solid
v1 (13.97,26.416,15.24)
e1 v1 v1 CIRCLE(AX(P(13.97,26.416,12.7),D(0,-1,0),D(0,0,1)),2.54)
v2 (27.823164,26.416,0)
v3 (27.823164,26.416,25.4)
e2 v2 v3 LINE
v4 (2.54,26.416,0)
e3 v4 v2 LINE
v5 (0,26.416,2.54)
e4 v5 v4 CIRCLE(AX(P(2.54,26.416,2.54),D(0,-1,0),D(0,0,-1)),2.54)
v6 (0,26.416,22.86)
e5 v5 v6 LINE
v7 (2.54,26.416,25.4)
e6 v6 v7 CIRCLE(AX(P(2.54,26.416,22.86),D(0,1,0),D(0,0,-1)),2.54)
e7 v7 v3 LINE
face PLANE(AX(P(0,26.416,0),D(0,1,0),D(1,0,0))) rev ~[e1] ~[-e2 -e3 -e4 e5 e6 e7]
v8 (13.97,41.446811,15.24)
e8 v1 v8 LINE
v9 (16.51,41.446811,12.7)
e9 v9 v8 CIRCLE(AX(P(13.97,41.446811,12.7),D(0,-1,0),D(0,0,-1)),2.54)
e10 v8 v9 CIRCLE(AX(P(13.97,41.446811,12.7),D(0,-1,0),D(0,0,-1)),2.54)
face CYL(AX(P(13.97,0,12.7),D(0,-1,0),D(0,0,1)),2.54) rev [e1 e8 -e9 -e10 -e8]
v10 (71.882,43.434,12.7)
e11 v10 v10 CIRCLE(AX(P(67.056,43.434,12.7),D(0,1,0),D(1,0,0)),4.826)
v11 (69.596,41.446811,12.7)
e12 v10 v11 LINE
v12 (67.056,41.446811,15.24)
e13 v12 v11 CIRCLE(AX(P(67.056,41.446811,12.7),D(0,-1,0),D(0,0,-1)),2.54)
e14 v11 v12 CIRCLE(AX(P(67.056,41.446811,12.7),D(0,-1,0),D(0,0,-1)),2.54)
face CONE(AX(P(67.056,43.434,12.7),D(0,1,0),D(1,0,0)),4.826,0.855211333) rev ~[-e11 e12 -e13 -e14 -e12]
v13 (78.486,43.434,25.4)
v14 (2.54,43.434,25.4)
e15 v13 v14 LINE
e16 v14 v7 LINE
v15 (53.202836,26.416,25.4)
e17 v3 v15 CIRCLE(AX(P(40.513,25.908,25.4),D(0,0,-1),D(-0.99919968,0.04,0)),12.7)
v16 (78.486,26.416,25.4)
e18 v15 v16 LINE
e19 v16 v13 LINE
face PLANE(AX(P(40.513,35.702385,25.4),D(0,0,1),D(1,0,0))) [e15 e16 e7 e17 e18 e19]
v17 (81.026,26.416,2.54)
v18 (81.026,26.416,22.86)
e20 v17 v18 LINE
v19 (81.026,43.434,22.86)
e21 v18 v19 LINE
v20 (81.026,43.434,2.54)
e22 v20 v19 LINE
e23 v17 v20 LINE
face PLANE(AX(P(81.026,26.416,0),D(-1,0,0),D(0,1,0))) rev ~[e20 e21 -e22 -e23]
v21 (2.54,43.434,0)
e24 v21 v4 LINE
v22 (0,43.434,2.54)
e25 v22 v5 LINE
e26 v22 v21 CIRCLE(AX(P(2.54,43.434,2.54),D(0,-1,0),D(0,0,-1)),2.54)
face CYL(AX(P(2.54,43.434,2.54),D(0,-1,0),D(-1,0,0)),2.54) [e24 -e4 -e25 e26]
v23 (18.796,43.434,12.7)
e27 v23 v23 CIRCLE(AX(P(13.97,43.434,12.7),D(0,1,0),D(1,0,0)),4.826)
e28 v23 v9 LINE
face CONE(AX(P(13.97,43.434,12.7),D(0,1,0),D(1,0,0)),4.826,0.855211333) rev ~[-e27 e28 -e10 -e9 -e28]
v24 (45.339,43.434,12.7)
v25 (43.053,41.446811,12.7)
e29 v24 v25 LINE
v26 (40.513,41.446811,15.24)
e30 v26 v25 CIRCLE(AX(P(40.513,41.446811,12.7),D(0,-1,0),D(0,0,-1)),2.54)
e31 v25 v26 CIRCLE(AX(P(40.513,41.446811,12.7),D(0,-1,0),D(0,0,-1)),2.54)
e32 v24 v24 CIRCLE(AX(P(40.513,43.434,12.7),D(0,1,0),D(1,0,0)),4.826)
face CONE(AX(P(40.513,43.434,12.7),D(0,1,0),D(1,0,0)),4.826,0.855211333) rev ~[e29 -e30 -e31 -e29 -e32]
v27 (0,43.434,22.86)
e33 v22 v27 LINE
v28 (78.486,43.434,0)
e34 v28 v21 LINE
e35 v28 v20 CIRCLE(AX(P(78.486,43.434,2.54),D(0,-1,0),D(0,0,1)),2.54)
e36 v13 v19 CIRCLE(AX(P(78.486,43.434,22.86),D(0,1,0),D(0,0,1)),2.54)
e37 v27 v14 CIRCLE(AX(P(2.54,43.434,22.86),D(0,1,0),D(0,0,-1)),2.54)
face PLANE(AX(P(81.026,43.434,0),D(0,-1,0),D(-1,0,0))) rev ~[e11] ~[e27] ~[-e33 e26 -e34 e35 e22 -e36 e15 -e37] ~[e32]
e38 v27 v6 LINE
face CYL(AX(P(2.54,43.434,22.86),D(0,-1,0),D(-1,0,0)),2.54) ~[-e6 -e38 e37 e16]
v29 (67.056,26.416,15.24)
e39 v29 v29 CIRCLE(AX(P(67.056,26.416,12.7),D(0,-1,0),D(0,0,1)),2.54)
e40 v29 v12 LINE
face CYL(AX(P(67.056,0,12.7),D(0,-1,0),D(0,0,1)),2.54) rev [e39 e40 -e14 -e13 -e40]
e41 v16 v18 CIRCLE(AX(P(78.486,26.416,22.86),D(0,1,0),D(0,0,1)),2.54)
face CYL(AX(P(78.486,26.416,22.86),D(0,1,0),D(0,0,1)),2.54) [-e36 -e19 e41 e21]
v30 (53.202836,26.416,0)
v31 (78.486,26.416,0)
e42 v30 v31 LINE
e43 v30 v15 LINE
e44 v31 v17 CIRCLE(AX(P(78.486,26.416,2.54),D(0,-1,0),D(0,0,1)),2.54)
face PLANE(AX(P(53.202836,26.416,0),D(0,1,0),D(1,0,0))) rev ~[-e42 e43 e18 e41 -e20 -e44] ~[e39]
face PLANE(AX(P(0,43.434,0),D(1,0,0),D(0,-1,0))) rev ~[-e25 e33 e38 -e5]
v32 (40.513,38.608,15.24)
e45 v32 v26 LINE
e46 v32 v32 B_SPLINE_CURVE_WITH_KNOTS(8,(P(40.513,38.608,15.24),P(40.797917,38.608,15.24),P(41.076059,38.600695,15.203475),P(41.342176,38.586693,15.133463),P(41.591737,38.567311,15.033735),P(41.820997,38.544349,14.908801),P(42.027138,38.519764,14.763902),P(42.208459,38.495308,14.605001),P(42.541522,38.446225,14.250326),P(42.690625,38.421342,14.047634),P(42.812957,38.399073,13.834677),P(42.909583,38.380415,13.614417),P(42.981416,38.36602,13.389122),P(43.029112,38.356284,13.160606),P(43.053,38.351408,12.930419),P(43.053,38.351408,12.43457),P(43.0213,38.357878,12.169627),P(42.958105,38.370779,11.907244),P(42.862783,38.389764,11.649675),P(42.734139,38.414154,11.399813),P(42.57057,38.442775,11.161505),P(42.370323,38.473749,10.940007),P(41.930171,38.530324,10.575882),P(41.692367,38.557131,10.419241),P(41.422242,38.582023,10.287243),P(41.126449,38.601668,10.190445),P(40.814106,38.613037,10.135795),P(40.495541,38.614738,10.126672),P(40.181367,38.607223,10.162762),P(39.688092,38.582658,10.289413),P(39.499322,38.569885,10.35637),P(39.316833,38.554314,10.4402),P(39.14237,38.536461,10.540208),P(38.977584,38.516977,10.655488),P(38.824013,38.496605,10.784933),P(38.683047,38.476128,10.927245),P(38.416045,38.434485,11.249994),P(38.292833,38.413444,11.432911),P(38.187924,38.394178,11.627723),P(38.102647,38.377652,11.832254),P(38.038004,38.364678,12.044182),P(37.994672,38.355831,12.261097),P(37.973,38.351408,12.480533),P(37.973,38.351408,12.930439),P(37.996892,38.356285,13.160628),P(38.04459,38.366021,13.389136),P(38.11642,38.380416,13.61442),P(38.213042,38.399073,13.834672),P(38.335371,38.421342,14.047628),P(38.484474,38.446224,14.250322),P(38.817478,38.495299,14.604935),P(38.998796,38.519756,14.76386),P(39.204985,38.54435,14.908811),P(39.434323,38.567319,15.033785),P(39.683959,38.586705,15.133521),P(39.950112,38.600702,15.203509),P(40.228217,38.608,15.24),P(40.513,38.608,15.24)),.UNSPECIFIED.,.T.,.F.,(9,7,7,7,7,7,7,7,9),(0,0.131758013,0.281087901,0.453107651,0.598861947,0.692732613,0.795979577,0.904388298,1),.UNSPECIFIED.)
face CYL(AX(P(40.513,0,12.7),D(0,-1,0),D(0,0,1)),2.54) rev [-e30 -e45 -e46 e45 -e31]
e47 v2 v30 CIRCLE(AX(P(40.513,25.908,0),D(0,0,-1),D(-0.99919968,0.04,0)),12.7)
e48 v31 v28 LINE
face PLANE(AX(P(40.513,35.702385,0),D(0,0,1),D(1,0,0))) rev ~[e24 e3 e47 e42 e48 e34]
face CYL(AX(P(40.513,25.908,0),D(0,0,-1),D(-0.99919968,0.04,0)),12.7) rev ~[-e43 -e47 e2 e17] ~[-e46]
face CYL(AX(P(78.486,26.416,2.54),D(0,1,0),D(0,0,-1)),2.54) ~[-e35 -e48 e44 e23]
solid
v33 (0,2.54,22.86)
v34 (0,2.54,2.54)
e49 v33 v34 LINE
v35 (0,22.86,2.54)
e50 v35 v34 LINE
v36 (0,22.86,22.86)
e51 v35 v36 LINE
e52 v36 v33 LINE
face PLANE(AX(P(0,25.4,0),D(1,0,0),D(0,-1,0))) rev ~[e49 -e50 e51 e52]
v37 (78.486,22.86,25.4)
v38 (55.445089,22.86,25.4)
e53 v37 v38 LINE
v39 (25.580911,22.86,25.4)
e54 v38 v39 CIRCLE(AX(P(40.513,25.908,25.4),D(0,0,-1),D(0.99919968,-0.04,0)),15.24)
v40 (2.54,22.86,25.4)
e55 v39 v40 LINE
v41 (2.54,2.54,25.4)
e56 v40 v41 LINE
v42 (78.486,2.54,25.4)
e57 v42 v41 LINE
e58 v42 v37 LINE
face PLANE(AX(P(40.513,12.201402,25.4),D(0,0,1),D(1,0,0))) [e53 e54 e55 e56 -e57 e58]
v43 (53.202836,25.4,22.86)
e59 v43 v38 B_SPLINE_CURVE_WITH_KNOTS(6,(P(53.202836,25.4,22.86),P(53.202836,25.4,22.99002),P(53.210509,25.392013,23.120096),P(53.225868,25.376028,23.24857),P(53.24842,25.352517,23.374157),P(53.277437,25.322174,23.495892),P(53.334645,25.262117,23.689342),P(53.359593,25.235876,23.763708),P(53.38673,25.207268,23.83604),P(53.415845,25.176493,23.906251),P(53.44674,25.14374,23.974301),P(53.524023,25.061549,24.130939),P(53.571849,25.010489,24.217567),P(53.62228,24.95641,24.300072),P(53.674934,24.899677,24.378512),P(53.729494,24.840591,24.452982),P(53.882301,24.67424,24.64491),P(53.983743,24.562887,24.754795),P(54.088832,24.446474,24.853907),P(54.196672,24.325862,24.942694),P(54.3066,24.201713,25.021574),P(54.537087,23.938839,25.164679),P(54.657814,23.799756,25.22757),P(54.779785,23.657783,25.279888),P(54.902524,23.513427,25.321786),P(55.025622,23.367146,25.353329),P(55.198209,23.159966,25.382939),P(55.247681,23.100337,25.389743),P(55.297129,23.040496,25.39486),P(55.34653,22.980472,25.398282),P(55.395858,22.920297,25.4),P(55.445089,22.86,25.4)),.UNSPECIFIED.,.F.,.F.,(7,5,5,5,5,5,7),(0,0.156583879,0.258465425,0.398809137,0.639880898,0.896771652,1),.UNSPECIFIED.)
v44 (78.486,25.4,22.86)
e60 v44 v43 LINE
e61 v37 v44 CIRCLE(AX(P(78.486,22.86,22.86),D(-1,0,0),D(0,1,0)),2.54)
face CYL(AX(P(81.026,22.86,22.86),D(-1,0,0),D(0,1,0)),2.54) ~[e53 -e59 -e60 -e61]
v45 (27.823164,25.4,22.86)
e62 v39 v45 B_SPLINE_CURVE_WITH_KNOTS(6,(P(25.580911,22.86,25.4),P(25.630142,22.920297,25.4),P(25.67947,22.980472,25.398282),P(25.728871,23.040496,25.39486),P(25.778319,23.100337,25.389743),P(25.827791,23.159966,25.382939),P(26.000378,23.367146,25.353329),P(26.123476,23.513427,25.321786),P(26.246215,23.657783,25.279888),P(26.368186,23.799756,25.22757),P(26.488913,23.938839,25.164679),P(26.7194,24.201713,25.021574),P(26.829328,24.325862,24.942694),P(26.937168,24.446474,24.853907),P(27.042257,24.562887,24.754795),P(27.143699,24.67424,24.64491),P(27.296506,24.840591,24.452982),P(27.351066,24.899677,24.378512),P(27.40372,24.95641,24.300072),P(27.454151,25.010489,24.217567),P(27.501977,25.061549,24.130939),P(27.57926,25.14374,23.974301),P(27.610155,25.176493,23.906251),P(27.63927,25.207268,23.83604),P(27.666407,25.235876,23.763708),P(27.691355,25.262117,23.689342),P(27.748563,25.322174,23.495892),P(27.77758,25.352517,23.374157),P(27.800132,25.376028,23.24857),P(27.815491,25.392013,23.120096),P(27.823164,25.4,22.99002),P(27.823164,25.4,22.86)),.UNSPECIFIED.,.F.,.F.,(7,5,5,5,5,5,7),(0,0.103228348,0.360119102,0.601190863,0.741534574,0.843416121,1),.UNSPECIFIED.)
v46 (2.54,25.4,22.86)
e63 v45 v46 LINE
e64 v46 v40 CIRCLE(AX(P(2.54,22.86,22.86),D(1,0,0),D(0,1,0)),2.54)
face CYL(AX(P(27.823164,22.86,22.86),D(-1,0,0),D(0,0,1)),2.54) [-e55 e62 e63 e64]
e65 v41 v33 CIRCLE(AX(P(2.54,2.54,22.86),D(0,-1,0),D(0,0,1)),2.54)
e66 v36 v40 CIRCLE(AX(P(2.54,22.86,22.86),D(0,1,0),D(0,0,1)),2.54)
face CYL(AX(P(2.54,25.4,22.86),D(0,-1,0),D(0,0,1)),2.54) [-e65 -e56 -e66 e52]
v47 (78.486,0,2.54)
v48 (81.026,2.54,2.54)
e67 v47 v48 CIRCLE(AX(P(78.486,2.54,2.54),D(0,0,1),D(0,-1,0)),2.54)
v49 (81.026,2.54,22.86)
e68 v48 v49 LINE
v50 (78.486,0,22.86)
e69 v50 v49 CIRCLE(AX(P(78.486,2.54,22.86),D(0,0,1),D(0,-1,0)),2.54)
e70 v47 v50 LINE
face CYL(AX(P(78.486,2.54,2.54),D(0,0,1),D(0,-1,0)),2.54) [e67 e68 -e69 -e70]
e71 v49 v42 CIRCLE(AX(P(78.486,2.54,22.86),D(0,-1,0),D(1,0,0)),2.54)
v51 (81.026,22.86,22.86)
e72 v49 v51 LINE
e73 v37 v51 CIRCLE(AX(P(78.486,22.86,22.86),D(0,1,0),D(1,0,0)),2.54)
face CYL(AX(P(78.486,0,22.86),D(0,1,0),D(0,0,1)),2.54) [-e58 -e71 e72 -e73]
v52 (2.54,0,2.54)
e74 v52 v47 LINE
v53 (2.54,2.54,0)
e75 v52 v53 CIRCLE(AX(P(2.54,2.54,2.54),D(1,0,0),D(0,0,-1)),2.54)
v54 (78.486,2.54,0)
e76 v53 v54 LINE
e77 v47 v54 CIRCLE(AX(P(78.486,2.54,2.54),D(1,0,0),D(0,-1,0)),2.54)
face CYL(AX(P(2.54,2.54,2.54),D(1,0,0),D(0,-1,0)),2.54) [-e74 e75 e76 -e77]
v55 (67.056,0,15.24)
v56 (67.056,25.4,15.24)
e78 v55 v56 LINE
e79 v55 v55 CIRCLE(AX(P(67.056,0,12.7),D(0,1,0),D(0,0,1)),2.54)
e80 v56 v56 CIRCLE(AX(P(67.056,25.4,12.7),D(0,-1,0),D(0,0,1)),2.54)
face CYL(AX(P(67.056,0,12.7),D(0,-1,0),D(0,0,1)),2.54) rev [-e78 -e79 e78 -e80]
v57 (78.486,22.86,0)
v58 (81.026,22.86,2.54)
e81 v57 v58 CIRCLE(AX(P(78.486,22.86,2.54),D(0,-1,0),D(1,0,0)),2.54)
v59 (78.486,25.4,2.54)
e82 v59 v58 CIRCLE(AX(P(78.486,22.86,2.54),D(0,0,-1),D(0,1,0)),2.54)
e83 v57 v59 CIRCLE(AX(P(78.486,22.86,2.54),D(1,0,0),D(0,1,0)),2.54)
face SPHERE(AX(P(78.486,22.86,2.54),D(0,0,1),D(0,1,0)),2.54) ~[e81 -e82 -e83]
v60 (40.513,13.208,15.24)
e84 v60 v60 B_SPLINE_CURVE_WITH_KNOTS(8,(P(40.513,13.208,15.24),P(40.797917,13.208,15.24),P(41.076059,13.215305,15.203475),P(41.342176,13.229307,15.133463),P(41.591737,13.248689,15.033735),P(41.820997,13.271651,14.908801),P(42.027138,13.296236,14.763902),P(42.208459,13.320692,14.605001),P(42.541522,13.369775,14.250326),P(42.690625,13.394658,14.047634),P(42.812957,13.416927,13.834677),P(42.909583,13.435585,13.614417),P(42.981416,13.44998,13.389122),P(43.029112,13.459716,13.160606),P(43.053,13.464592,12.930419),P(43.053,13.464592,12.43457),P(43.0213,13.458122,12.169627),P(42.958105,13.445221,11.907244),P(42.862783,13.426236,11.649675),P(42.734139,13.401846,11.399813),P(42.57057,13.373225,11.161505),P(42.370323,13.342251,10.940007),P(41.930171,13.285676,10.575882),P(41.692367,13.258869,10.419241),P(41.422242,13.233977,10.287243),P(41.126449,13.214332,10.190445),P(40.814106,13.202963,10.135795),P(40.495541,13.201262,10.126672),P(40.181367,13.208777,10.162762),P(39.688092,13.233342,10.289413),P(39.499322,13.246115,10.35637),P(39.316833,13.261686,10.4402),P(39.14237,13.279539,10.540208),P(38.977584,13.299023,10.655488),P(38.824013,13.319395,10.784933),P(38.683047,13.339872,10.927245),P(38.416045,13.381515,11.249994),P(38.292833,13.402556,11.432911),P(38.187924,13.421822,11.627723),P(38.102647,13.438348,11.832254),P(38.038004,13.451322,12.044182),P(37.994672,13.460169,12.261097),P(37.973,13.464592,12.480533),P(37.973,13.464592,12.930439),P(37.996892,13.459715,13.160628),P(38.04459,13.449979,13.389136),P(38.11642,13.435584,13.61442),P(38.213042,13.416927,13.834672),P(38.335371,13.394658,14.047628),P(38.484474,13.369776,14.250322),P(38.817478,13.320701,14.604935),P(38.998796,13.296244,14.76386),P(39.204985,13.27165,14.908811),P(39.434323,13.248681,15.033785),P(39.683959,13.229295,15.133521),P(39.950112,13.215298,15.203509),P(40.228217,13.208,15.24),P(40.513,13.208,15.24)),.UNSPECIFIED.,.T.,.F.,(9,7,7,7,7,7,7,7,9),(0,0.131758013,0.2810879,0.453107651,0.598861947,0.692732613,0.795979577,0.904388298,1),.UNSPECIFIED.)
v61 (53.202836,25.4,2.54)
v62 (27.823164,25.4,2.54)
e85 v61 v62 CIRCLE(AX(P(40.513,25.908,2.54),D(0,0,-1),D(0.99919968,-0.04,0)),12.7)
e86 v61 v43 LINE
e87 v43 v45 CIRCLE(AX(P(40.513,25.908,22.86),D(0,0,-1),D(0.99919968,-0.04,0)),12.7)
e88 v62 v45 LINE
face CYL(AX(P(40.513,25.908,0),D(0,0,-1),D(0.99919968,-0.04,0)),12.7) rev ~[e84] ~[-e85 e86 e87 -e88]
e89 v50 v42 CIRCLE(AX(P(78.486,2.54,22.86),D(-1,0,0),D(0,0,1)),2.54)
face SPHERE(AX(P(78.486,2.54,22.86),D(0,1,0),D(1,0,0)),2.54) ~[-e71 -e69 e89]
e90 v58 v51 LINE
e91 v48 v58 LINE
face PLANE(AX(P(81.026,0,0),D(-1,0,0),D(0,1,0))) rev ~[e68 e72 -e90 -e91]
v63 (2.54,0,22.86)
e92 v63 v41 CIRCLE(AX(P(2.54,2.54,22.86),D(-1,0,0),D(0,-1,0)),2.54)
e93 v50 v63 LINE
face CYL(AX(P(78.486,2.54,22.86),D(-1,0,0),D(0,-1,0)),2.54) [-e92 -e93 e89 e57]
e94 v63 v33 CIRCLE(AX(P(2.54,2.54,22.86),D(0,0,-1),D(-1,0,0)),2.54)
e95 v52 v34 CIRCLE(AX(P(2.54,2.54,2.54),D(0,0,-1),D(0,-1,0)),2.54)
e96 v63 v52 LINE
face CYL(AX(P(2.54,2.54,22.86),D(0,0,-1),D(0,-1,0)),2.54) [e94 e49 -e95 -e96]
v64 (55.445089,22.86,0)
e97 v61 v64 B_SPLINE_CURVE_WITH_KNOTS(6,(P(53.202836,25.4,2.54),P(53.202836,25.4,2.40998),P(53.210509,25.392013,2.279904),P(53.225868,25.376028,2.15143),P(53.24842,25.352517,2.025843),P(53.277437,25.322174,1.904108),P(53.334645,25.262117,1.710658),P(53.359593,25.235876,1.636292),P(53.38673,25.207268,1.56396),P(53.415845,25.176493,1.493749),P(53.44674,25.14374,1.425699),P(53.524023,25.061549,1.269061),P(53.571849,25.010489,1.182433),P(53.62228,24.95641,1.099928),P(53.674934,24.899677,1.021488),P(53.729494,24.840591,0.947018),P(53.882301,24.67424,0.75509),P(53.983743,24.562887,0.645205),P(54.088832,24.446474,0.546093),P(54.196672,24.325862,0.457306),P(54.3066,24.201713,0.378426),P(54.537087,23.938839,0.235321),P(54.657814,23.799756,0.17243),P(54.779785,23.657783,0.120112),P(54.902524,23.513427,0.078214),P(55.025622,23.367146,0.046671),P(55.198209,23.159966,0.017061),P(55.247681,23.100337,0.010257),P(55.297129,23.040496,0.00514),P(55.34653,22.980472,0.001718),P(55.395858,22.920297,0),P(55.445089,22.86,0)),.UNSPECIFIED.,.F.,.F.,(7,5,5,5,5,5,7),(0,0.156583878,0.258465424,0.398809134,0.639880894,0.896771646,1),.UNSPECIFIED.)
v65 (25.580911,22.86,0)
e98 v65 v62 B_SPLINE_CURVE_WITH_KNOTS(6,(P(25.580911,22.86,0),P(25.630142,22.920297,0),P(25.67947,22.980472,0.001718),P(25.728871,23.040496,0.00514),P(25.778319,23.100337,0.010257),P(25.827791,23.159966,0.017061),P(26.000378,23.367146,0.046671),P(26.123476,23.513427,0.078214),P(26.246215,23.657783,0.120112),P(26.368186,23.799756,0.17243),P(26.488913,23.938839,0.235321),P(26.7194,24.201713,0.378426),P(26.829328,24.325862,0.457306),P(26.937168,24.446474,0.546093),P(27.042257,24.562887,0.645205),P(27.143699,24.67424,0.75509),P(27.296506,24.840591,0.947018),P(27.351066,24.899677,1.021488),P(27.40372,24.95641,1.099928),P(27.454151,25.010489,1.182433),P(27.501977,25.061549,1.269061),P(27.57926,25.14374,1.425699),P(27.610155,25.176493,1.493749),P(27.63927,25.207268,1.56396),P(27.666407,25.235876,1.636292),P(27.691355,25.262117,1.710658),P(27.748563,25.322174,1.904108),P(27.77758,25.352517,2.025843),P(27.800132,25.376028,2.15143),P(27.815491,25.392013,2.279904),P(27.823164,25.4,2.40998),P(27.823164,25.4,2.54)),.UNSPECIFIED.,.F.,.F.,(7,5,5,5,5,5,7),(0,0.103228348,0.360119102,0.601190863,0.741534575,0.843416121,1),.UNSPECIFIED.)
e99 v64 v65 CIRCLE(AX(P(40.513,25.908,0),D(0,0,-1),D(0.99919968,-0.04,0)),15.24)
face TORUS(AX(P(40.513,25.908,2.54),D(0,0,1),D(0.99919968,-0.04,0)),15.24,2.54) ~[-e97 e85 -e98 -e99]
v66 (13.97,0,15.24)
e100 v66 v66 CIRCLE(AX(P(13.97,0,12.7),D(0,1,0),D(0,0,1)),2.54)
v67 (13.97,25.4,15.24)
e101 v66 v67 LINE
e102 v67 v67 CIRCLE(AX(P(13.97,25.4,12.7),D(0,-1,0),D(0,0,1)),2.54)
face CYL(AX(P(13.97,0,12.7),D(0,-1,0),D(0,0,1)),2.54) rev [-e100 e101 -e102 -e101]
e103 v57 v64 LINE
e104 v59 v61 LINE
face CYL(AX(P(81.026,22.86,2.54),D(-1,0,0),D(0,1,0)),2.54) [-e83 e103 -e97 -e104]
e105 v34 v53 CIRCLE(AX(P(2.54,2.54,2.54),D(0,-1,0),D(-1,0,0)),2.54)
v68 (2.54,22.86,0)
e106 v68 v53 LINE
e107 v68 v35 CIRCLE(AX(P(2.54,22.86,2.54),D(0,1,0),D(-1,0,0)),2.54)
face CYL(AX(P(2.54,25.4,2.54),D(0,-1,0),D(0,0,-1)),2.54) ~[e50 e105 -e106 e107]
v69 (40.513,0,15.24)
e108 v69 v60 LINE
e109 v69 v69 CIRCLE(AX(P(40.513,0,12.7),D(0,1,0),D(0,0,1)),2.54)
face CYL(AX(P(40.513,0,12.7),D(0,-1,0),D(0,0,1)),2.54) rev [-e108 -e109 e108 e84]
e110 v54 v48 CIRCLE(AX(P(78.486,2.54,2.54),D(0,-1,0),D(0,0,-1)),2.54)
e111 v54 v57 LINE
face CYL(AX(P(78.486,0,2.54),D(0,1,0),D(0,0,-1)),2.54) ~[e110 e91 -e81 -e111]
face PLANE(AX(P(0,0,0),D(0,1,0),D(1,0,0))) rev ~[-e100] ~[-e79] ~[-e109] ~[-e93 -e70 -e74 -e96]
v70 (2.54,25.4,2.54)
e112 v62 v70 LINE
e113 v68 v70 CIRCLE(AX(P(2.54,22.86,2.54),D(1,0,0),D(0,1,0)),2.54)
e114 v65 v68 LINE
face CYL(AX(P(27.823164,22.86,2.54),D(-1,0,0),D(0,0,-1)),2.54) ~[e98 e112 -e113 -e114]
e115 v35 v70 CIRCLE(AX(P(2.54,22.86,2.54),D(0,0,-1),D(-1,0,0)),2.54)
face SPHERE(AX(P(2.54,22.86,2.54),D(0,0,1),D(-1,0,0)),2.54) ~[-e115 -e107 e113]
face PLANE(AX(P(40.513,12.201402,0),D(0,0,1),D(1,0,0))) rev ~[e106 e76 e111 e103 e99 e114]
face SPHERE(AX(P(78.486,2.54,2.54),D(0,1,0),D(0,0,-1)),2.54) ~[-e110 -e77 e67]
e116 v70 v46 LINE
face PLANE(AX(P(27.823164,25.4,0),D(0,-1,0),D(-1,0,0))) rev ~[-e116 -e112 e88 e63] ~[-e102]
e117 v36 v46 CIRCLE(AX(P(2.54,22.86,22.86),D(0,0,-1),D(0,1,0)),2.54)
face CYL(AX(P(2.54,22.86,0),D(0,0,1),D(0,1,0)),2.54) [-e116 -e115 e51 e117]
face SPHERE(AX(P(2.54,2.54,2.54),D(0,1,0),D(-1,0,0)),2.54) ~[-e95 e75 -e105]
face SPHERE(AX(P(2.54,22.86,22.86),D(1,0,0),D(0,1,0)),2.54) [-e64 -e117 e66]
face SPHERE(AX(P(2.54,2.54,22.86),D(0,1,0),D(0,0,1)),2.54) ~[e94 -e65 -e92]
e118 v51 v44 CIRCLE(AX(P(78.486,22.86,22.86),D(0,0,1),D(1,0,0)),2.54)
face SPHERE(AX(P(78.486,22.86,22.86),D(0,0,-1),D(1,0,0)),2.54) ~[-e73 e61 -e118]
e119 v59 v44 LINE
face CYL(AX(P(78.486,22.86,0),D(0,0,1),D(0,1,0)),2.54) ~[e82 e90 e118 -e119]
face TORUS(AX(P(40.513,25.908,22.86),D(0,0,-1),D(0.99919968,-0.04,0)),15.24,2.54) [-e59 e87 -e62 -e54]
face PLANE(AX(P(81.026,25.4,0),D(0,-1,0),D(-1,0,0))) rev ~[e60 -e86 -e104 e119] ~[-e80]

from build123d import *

# Parameters (mm, degrees)
BOSS_EXTRUDE1_DEPTH          = 25.4
BOSS_EXTRUDE1_2_DEPTH        = 25.4
CUT_EXTRUDE1_START           = -43.434
SKETCH3_R                    = 2.54
CUT_EXTRUDE1_DEPTH           = 43.434
SKETCH3_3_R                  = 4.826
CUT_EXTRUDE2_DEPTH           = 3.2258
CUT_EXTRUDE2_DRAFT           = -49
CUT_EXTRUDE2_PROFILE_2_DEPTH = 3.2258
CUT_EXTRUDE2_PROFILE_2_DRAFT = -49
CUT_EXTRUDE2_PROFILE_3_DEPTH = 3.2258
CUT_EXTRUDE2_PROFILE_3_DRAFT = -49
FILLET1_R                    = 2.54
FILLET2_R                    = 2.54
FILLET3_R                    = 2.54


with BuildPart() as part:
    # Sketch2 → Boss-Extrude1 (new body)
    with BuildSketch(Plane.XY):
        with BuildLine():
            Line((0, 43.434), (0, 26.416))
            Line((0, 26.416), (27.823164067, 26.416))
            ThreePointArc((27.823164067, 26.416), (40.513, 38.608), (53.202835933, 26.416))
            Line((53.202835933, 26.416), (81.026, 26.416))
            Line((81.026, 26.416), (81.026, 43.434))
            Line((81.026, 43.434), (0, 43.434))
        make_face()
    extrude(amount=BOSS_EXTRUDE1_DEPTH)


with BuildPart() as body_2:
    # Sketch2 → Boss-Extrude1 2 (new body)
    with BuildSketch(Plane.XY):
        with BuildLine():
            ThreePointArc((53.202835933, 25.4), (40.513, 13.208), (27.823164067, 25.4))
            Line((27.823164067, 25.4), (0, 25.4))
            Line((0, 25.4), (0, 0))
            Line((0, 0), (81.026, 0))
            Line((81.026, 0), (81.026, 25.4))
            Line((81.026, 25.4), (53.202835933, 25.4))
        make_face()
    extrude(amount=BOSS_EXTRUDE1_2_DEPTH)


with BuildPart() as cut_extrude1_tool:
    # Sketch3 → Cut-Extrude1 (new body)
    with BuildSketch(Plane(origin=(0, 43.434, 0), x_dir=(1, 0, 0), z_dir=(0, 1, 0)).offset(CUT_EXTRUDE1_START)):
        with Locations(Location((13.97, -12.7, 0), (0, 0, 270))):
            Circle(SKETCH3_R)
        with Locations(Location((40.513, -12.7, 0), (0, 0, 270))):
            Circle(SKETCH3_R)
        with Locations(Location((67.056, -12.7, 0), (0, 0, 270))):
            Circle(SKETCH3_R)
    extrude(amount=CUT_EXTRUDE1_DEPTH)


with BuildPart() as part_1:
    add(part.part)

    # Cut-Extrude1: cut by cut_extrude1_tool
    add(cut_extrude1_tool.part, mode=Mode.SUBTRACT)


with BuildPart() as body_2_1:
    add(body_2.part)

    # Cut-Extrude1: cut by cut_extrude1_tool
    add(cut_extrude1_tool.part, mode=Mode.SUBTRACT)

    # Fillet1
    fillet1_edges = [body_2_1.edges().sort_by_distance(p)[0] for p in [
        (13.911582034, 25.4, 25.4),
        (81.026, 25.4, 12.7),
        (0, 25.4, 12.7),
        (0, 12.7, 25.4),
        (81.026, 12.7, 25.4),
        (67.114417966, 25.4, 25.4),
        (40.513, 13.208, 25.4),
        (67.114417966, 25.4, 0),
        (81.026, 12.7, 0),
        (0, 12.7, 0),
        (13.911582034, 25.4, 0),
        (40.513, 13.208, 0),
    ]]
    fillet(fillet1_edges, radius=FILLET1_R)

    # Fillet3
    fillet3_edges = [body_2_1.edges().sort_by_distance(p)[0] for p in [
        (81.026, 0, 12.7),
        (40.513, 0, 0),
        (40.513, 0, 25.4),
        (0, 0, 12.7),
        (80.282051224, 0, 24.656051224),
        (0.743948776, 0, 24.656051224),
        (0.743948776, 0, 0.743948776),
        (80.282051224, 0, 0.743948776),
    ]]
    fillet(fillet3_edges, radius=FILLET3_R)


with BuildPart() as cut_extrude2_tool:
    # Sketch3<3> → Cut-Extrude2 (with draft: the straight prism first)
    with BuildSketch(Plane(origin=(0, 43.434, 0), x_dir=(1, 0, 0), z_dir=(0, 1, 0))):
        with Locations((40.513, -12.7)):
            Circle(SKETCH3_3_R)
    extrude(amount=-CUT_EXTRUDE2_DEPTH)
    # Cut-Extrude2: the draft: its side faces are tilted about the plane it starts from
    cut_extrude2_sides = [cut_extrude2_tool.faces().sort_by_distance(p)[0] for p in [
        (35.687, 41.8211, 12.7),
    ]]
    draft(cut_extrude2_sides, Plane(origin=(0, 43.434, 0), x_dir=(1, 0, 0), z_dir=(0, 1, 0)), CUT_EXTRUDE2_DRAFT)


with BuildPart() as part_2:
    add(part_1.part)

    # Cut-Extrude2: cut by cut_extrude2_tool
    add(cut_extrude2_tool.part, mode=Mode.SUBTRACT)


with BuildPart() as cut_extrude2_profile_2_tool:
    # Sketch3<3> → Cut-Extrude2 profile 2 (with draft: the straight prism first)
    with BuildSketch(Plane(origin=(0, 43.434, 0), x_dir=(1, 0, 0), z_dir=(0, 1, 0))):
        with Locations((13.97, -12.7)):
            Circle(SKETCH3_3_R)
    extrude(amount=-CUT_EXTRUDE2_PROFILE_2_DEPTH)
    # Cut-Extrude2 profile 2: the draft: its side faces are tilted about the plane it starts from
    cut_extrude2_profile_2_sides = [cut_extrude2_profile_2_tool.faces().sort_by_distance(p)[0] for p in [
        (9.144, 41.8211, 12.7),
    ]]
    draft(cut_extrude2_profile_2_sides, Plane(origin=(0, 43.434, 0), x_dir=(1, 0, 0), z_dir=(0, 1, 0)), CUT_EXTRUDE2_PROFILE_2_DRAFT)


with BuildPart() as part_3:
    add(part_2.part)

    # Cut-Extrude2 profile 2: cut by cut_extrude2_profile_2_tool
    add(cut_extrude2_profile_2_tool.part, mode=Mode.SUBTRACT)


with BuildPart() as cut_extrude2_profile_3_tool:
    # Sketch3<3> → Cut-Extrude2 profile 3 (with draft: the straight prism first)
    with BuildSketch(Plane(origin=(0, 43.434, 0), x_dir=(1, 0, 0), z_dir=(0, 1, 0))):
        with Locations((67.056, -12.7)):
            Circle(SKETCH3_3_R)
    extrude(amount=-CUT_EXTRUDE2_PROFILE_3_DEPTH)
    # Cut-Extrude2 profile 3: the draft: its side faces are tilted about the plane it starts from
    cut_extrude2_profile_3_sides = [cut_extrude2_profile_3_tool.faces().sort_by_distance(p)[0] for p in [
        (62.23, 41.8211, 12.7),
    ]]
    draft(cut_extrude2_profile_3_sides, Plane(origin=(0, 43.434, 0), x_dir=(1, 0, 0), z_dir=(0, 1, 0)), CUT_EXTRUDE2_PROFILE_3_DRAFT)


with BuildPart() as part_4:
    add(part_3.part)

    # Cut-Extrude2 profile 3: cut by cut_extrude2_profile_3_tool
    add(cut_extrude2_profile_3_tool.part, mode=Mode.SUBTRACT)

    # Fillet2
    fillet2_edges = [part_4.edges().sort_by_distance(p)[0] for p in [
        (81.026, 34.925, 25.4),
        (0, 34.925, 25.4),
        (0, 34.925, 0),
        (81.026, 34.925, 0),
    ]]
    fillet(fillet2_edges, radius=FILLET2_R)


solid = Compound([body_2_1.part, part_4.part])
